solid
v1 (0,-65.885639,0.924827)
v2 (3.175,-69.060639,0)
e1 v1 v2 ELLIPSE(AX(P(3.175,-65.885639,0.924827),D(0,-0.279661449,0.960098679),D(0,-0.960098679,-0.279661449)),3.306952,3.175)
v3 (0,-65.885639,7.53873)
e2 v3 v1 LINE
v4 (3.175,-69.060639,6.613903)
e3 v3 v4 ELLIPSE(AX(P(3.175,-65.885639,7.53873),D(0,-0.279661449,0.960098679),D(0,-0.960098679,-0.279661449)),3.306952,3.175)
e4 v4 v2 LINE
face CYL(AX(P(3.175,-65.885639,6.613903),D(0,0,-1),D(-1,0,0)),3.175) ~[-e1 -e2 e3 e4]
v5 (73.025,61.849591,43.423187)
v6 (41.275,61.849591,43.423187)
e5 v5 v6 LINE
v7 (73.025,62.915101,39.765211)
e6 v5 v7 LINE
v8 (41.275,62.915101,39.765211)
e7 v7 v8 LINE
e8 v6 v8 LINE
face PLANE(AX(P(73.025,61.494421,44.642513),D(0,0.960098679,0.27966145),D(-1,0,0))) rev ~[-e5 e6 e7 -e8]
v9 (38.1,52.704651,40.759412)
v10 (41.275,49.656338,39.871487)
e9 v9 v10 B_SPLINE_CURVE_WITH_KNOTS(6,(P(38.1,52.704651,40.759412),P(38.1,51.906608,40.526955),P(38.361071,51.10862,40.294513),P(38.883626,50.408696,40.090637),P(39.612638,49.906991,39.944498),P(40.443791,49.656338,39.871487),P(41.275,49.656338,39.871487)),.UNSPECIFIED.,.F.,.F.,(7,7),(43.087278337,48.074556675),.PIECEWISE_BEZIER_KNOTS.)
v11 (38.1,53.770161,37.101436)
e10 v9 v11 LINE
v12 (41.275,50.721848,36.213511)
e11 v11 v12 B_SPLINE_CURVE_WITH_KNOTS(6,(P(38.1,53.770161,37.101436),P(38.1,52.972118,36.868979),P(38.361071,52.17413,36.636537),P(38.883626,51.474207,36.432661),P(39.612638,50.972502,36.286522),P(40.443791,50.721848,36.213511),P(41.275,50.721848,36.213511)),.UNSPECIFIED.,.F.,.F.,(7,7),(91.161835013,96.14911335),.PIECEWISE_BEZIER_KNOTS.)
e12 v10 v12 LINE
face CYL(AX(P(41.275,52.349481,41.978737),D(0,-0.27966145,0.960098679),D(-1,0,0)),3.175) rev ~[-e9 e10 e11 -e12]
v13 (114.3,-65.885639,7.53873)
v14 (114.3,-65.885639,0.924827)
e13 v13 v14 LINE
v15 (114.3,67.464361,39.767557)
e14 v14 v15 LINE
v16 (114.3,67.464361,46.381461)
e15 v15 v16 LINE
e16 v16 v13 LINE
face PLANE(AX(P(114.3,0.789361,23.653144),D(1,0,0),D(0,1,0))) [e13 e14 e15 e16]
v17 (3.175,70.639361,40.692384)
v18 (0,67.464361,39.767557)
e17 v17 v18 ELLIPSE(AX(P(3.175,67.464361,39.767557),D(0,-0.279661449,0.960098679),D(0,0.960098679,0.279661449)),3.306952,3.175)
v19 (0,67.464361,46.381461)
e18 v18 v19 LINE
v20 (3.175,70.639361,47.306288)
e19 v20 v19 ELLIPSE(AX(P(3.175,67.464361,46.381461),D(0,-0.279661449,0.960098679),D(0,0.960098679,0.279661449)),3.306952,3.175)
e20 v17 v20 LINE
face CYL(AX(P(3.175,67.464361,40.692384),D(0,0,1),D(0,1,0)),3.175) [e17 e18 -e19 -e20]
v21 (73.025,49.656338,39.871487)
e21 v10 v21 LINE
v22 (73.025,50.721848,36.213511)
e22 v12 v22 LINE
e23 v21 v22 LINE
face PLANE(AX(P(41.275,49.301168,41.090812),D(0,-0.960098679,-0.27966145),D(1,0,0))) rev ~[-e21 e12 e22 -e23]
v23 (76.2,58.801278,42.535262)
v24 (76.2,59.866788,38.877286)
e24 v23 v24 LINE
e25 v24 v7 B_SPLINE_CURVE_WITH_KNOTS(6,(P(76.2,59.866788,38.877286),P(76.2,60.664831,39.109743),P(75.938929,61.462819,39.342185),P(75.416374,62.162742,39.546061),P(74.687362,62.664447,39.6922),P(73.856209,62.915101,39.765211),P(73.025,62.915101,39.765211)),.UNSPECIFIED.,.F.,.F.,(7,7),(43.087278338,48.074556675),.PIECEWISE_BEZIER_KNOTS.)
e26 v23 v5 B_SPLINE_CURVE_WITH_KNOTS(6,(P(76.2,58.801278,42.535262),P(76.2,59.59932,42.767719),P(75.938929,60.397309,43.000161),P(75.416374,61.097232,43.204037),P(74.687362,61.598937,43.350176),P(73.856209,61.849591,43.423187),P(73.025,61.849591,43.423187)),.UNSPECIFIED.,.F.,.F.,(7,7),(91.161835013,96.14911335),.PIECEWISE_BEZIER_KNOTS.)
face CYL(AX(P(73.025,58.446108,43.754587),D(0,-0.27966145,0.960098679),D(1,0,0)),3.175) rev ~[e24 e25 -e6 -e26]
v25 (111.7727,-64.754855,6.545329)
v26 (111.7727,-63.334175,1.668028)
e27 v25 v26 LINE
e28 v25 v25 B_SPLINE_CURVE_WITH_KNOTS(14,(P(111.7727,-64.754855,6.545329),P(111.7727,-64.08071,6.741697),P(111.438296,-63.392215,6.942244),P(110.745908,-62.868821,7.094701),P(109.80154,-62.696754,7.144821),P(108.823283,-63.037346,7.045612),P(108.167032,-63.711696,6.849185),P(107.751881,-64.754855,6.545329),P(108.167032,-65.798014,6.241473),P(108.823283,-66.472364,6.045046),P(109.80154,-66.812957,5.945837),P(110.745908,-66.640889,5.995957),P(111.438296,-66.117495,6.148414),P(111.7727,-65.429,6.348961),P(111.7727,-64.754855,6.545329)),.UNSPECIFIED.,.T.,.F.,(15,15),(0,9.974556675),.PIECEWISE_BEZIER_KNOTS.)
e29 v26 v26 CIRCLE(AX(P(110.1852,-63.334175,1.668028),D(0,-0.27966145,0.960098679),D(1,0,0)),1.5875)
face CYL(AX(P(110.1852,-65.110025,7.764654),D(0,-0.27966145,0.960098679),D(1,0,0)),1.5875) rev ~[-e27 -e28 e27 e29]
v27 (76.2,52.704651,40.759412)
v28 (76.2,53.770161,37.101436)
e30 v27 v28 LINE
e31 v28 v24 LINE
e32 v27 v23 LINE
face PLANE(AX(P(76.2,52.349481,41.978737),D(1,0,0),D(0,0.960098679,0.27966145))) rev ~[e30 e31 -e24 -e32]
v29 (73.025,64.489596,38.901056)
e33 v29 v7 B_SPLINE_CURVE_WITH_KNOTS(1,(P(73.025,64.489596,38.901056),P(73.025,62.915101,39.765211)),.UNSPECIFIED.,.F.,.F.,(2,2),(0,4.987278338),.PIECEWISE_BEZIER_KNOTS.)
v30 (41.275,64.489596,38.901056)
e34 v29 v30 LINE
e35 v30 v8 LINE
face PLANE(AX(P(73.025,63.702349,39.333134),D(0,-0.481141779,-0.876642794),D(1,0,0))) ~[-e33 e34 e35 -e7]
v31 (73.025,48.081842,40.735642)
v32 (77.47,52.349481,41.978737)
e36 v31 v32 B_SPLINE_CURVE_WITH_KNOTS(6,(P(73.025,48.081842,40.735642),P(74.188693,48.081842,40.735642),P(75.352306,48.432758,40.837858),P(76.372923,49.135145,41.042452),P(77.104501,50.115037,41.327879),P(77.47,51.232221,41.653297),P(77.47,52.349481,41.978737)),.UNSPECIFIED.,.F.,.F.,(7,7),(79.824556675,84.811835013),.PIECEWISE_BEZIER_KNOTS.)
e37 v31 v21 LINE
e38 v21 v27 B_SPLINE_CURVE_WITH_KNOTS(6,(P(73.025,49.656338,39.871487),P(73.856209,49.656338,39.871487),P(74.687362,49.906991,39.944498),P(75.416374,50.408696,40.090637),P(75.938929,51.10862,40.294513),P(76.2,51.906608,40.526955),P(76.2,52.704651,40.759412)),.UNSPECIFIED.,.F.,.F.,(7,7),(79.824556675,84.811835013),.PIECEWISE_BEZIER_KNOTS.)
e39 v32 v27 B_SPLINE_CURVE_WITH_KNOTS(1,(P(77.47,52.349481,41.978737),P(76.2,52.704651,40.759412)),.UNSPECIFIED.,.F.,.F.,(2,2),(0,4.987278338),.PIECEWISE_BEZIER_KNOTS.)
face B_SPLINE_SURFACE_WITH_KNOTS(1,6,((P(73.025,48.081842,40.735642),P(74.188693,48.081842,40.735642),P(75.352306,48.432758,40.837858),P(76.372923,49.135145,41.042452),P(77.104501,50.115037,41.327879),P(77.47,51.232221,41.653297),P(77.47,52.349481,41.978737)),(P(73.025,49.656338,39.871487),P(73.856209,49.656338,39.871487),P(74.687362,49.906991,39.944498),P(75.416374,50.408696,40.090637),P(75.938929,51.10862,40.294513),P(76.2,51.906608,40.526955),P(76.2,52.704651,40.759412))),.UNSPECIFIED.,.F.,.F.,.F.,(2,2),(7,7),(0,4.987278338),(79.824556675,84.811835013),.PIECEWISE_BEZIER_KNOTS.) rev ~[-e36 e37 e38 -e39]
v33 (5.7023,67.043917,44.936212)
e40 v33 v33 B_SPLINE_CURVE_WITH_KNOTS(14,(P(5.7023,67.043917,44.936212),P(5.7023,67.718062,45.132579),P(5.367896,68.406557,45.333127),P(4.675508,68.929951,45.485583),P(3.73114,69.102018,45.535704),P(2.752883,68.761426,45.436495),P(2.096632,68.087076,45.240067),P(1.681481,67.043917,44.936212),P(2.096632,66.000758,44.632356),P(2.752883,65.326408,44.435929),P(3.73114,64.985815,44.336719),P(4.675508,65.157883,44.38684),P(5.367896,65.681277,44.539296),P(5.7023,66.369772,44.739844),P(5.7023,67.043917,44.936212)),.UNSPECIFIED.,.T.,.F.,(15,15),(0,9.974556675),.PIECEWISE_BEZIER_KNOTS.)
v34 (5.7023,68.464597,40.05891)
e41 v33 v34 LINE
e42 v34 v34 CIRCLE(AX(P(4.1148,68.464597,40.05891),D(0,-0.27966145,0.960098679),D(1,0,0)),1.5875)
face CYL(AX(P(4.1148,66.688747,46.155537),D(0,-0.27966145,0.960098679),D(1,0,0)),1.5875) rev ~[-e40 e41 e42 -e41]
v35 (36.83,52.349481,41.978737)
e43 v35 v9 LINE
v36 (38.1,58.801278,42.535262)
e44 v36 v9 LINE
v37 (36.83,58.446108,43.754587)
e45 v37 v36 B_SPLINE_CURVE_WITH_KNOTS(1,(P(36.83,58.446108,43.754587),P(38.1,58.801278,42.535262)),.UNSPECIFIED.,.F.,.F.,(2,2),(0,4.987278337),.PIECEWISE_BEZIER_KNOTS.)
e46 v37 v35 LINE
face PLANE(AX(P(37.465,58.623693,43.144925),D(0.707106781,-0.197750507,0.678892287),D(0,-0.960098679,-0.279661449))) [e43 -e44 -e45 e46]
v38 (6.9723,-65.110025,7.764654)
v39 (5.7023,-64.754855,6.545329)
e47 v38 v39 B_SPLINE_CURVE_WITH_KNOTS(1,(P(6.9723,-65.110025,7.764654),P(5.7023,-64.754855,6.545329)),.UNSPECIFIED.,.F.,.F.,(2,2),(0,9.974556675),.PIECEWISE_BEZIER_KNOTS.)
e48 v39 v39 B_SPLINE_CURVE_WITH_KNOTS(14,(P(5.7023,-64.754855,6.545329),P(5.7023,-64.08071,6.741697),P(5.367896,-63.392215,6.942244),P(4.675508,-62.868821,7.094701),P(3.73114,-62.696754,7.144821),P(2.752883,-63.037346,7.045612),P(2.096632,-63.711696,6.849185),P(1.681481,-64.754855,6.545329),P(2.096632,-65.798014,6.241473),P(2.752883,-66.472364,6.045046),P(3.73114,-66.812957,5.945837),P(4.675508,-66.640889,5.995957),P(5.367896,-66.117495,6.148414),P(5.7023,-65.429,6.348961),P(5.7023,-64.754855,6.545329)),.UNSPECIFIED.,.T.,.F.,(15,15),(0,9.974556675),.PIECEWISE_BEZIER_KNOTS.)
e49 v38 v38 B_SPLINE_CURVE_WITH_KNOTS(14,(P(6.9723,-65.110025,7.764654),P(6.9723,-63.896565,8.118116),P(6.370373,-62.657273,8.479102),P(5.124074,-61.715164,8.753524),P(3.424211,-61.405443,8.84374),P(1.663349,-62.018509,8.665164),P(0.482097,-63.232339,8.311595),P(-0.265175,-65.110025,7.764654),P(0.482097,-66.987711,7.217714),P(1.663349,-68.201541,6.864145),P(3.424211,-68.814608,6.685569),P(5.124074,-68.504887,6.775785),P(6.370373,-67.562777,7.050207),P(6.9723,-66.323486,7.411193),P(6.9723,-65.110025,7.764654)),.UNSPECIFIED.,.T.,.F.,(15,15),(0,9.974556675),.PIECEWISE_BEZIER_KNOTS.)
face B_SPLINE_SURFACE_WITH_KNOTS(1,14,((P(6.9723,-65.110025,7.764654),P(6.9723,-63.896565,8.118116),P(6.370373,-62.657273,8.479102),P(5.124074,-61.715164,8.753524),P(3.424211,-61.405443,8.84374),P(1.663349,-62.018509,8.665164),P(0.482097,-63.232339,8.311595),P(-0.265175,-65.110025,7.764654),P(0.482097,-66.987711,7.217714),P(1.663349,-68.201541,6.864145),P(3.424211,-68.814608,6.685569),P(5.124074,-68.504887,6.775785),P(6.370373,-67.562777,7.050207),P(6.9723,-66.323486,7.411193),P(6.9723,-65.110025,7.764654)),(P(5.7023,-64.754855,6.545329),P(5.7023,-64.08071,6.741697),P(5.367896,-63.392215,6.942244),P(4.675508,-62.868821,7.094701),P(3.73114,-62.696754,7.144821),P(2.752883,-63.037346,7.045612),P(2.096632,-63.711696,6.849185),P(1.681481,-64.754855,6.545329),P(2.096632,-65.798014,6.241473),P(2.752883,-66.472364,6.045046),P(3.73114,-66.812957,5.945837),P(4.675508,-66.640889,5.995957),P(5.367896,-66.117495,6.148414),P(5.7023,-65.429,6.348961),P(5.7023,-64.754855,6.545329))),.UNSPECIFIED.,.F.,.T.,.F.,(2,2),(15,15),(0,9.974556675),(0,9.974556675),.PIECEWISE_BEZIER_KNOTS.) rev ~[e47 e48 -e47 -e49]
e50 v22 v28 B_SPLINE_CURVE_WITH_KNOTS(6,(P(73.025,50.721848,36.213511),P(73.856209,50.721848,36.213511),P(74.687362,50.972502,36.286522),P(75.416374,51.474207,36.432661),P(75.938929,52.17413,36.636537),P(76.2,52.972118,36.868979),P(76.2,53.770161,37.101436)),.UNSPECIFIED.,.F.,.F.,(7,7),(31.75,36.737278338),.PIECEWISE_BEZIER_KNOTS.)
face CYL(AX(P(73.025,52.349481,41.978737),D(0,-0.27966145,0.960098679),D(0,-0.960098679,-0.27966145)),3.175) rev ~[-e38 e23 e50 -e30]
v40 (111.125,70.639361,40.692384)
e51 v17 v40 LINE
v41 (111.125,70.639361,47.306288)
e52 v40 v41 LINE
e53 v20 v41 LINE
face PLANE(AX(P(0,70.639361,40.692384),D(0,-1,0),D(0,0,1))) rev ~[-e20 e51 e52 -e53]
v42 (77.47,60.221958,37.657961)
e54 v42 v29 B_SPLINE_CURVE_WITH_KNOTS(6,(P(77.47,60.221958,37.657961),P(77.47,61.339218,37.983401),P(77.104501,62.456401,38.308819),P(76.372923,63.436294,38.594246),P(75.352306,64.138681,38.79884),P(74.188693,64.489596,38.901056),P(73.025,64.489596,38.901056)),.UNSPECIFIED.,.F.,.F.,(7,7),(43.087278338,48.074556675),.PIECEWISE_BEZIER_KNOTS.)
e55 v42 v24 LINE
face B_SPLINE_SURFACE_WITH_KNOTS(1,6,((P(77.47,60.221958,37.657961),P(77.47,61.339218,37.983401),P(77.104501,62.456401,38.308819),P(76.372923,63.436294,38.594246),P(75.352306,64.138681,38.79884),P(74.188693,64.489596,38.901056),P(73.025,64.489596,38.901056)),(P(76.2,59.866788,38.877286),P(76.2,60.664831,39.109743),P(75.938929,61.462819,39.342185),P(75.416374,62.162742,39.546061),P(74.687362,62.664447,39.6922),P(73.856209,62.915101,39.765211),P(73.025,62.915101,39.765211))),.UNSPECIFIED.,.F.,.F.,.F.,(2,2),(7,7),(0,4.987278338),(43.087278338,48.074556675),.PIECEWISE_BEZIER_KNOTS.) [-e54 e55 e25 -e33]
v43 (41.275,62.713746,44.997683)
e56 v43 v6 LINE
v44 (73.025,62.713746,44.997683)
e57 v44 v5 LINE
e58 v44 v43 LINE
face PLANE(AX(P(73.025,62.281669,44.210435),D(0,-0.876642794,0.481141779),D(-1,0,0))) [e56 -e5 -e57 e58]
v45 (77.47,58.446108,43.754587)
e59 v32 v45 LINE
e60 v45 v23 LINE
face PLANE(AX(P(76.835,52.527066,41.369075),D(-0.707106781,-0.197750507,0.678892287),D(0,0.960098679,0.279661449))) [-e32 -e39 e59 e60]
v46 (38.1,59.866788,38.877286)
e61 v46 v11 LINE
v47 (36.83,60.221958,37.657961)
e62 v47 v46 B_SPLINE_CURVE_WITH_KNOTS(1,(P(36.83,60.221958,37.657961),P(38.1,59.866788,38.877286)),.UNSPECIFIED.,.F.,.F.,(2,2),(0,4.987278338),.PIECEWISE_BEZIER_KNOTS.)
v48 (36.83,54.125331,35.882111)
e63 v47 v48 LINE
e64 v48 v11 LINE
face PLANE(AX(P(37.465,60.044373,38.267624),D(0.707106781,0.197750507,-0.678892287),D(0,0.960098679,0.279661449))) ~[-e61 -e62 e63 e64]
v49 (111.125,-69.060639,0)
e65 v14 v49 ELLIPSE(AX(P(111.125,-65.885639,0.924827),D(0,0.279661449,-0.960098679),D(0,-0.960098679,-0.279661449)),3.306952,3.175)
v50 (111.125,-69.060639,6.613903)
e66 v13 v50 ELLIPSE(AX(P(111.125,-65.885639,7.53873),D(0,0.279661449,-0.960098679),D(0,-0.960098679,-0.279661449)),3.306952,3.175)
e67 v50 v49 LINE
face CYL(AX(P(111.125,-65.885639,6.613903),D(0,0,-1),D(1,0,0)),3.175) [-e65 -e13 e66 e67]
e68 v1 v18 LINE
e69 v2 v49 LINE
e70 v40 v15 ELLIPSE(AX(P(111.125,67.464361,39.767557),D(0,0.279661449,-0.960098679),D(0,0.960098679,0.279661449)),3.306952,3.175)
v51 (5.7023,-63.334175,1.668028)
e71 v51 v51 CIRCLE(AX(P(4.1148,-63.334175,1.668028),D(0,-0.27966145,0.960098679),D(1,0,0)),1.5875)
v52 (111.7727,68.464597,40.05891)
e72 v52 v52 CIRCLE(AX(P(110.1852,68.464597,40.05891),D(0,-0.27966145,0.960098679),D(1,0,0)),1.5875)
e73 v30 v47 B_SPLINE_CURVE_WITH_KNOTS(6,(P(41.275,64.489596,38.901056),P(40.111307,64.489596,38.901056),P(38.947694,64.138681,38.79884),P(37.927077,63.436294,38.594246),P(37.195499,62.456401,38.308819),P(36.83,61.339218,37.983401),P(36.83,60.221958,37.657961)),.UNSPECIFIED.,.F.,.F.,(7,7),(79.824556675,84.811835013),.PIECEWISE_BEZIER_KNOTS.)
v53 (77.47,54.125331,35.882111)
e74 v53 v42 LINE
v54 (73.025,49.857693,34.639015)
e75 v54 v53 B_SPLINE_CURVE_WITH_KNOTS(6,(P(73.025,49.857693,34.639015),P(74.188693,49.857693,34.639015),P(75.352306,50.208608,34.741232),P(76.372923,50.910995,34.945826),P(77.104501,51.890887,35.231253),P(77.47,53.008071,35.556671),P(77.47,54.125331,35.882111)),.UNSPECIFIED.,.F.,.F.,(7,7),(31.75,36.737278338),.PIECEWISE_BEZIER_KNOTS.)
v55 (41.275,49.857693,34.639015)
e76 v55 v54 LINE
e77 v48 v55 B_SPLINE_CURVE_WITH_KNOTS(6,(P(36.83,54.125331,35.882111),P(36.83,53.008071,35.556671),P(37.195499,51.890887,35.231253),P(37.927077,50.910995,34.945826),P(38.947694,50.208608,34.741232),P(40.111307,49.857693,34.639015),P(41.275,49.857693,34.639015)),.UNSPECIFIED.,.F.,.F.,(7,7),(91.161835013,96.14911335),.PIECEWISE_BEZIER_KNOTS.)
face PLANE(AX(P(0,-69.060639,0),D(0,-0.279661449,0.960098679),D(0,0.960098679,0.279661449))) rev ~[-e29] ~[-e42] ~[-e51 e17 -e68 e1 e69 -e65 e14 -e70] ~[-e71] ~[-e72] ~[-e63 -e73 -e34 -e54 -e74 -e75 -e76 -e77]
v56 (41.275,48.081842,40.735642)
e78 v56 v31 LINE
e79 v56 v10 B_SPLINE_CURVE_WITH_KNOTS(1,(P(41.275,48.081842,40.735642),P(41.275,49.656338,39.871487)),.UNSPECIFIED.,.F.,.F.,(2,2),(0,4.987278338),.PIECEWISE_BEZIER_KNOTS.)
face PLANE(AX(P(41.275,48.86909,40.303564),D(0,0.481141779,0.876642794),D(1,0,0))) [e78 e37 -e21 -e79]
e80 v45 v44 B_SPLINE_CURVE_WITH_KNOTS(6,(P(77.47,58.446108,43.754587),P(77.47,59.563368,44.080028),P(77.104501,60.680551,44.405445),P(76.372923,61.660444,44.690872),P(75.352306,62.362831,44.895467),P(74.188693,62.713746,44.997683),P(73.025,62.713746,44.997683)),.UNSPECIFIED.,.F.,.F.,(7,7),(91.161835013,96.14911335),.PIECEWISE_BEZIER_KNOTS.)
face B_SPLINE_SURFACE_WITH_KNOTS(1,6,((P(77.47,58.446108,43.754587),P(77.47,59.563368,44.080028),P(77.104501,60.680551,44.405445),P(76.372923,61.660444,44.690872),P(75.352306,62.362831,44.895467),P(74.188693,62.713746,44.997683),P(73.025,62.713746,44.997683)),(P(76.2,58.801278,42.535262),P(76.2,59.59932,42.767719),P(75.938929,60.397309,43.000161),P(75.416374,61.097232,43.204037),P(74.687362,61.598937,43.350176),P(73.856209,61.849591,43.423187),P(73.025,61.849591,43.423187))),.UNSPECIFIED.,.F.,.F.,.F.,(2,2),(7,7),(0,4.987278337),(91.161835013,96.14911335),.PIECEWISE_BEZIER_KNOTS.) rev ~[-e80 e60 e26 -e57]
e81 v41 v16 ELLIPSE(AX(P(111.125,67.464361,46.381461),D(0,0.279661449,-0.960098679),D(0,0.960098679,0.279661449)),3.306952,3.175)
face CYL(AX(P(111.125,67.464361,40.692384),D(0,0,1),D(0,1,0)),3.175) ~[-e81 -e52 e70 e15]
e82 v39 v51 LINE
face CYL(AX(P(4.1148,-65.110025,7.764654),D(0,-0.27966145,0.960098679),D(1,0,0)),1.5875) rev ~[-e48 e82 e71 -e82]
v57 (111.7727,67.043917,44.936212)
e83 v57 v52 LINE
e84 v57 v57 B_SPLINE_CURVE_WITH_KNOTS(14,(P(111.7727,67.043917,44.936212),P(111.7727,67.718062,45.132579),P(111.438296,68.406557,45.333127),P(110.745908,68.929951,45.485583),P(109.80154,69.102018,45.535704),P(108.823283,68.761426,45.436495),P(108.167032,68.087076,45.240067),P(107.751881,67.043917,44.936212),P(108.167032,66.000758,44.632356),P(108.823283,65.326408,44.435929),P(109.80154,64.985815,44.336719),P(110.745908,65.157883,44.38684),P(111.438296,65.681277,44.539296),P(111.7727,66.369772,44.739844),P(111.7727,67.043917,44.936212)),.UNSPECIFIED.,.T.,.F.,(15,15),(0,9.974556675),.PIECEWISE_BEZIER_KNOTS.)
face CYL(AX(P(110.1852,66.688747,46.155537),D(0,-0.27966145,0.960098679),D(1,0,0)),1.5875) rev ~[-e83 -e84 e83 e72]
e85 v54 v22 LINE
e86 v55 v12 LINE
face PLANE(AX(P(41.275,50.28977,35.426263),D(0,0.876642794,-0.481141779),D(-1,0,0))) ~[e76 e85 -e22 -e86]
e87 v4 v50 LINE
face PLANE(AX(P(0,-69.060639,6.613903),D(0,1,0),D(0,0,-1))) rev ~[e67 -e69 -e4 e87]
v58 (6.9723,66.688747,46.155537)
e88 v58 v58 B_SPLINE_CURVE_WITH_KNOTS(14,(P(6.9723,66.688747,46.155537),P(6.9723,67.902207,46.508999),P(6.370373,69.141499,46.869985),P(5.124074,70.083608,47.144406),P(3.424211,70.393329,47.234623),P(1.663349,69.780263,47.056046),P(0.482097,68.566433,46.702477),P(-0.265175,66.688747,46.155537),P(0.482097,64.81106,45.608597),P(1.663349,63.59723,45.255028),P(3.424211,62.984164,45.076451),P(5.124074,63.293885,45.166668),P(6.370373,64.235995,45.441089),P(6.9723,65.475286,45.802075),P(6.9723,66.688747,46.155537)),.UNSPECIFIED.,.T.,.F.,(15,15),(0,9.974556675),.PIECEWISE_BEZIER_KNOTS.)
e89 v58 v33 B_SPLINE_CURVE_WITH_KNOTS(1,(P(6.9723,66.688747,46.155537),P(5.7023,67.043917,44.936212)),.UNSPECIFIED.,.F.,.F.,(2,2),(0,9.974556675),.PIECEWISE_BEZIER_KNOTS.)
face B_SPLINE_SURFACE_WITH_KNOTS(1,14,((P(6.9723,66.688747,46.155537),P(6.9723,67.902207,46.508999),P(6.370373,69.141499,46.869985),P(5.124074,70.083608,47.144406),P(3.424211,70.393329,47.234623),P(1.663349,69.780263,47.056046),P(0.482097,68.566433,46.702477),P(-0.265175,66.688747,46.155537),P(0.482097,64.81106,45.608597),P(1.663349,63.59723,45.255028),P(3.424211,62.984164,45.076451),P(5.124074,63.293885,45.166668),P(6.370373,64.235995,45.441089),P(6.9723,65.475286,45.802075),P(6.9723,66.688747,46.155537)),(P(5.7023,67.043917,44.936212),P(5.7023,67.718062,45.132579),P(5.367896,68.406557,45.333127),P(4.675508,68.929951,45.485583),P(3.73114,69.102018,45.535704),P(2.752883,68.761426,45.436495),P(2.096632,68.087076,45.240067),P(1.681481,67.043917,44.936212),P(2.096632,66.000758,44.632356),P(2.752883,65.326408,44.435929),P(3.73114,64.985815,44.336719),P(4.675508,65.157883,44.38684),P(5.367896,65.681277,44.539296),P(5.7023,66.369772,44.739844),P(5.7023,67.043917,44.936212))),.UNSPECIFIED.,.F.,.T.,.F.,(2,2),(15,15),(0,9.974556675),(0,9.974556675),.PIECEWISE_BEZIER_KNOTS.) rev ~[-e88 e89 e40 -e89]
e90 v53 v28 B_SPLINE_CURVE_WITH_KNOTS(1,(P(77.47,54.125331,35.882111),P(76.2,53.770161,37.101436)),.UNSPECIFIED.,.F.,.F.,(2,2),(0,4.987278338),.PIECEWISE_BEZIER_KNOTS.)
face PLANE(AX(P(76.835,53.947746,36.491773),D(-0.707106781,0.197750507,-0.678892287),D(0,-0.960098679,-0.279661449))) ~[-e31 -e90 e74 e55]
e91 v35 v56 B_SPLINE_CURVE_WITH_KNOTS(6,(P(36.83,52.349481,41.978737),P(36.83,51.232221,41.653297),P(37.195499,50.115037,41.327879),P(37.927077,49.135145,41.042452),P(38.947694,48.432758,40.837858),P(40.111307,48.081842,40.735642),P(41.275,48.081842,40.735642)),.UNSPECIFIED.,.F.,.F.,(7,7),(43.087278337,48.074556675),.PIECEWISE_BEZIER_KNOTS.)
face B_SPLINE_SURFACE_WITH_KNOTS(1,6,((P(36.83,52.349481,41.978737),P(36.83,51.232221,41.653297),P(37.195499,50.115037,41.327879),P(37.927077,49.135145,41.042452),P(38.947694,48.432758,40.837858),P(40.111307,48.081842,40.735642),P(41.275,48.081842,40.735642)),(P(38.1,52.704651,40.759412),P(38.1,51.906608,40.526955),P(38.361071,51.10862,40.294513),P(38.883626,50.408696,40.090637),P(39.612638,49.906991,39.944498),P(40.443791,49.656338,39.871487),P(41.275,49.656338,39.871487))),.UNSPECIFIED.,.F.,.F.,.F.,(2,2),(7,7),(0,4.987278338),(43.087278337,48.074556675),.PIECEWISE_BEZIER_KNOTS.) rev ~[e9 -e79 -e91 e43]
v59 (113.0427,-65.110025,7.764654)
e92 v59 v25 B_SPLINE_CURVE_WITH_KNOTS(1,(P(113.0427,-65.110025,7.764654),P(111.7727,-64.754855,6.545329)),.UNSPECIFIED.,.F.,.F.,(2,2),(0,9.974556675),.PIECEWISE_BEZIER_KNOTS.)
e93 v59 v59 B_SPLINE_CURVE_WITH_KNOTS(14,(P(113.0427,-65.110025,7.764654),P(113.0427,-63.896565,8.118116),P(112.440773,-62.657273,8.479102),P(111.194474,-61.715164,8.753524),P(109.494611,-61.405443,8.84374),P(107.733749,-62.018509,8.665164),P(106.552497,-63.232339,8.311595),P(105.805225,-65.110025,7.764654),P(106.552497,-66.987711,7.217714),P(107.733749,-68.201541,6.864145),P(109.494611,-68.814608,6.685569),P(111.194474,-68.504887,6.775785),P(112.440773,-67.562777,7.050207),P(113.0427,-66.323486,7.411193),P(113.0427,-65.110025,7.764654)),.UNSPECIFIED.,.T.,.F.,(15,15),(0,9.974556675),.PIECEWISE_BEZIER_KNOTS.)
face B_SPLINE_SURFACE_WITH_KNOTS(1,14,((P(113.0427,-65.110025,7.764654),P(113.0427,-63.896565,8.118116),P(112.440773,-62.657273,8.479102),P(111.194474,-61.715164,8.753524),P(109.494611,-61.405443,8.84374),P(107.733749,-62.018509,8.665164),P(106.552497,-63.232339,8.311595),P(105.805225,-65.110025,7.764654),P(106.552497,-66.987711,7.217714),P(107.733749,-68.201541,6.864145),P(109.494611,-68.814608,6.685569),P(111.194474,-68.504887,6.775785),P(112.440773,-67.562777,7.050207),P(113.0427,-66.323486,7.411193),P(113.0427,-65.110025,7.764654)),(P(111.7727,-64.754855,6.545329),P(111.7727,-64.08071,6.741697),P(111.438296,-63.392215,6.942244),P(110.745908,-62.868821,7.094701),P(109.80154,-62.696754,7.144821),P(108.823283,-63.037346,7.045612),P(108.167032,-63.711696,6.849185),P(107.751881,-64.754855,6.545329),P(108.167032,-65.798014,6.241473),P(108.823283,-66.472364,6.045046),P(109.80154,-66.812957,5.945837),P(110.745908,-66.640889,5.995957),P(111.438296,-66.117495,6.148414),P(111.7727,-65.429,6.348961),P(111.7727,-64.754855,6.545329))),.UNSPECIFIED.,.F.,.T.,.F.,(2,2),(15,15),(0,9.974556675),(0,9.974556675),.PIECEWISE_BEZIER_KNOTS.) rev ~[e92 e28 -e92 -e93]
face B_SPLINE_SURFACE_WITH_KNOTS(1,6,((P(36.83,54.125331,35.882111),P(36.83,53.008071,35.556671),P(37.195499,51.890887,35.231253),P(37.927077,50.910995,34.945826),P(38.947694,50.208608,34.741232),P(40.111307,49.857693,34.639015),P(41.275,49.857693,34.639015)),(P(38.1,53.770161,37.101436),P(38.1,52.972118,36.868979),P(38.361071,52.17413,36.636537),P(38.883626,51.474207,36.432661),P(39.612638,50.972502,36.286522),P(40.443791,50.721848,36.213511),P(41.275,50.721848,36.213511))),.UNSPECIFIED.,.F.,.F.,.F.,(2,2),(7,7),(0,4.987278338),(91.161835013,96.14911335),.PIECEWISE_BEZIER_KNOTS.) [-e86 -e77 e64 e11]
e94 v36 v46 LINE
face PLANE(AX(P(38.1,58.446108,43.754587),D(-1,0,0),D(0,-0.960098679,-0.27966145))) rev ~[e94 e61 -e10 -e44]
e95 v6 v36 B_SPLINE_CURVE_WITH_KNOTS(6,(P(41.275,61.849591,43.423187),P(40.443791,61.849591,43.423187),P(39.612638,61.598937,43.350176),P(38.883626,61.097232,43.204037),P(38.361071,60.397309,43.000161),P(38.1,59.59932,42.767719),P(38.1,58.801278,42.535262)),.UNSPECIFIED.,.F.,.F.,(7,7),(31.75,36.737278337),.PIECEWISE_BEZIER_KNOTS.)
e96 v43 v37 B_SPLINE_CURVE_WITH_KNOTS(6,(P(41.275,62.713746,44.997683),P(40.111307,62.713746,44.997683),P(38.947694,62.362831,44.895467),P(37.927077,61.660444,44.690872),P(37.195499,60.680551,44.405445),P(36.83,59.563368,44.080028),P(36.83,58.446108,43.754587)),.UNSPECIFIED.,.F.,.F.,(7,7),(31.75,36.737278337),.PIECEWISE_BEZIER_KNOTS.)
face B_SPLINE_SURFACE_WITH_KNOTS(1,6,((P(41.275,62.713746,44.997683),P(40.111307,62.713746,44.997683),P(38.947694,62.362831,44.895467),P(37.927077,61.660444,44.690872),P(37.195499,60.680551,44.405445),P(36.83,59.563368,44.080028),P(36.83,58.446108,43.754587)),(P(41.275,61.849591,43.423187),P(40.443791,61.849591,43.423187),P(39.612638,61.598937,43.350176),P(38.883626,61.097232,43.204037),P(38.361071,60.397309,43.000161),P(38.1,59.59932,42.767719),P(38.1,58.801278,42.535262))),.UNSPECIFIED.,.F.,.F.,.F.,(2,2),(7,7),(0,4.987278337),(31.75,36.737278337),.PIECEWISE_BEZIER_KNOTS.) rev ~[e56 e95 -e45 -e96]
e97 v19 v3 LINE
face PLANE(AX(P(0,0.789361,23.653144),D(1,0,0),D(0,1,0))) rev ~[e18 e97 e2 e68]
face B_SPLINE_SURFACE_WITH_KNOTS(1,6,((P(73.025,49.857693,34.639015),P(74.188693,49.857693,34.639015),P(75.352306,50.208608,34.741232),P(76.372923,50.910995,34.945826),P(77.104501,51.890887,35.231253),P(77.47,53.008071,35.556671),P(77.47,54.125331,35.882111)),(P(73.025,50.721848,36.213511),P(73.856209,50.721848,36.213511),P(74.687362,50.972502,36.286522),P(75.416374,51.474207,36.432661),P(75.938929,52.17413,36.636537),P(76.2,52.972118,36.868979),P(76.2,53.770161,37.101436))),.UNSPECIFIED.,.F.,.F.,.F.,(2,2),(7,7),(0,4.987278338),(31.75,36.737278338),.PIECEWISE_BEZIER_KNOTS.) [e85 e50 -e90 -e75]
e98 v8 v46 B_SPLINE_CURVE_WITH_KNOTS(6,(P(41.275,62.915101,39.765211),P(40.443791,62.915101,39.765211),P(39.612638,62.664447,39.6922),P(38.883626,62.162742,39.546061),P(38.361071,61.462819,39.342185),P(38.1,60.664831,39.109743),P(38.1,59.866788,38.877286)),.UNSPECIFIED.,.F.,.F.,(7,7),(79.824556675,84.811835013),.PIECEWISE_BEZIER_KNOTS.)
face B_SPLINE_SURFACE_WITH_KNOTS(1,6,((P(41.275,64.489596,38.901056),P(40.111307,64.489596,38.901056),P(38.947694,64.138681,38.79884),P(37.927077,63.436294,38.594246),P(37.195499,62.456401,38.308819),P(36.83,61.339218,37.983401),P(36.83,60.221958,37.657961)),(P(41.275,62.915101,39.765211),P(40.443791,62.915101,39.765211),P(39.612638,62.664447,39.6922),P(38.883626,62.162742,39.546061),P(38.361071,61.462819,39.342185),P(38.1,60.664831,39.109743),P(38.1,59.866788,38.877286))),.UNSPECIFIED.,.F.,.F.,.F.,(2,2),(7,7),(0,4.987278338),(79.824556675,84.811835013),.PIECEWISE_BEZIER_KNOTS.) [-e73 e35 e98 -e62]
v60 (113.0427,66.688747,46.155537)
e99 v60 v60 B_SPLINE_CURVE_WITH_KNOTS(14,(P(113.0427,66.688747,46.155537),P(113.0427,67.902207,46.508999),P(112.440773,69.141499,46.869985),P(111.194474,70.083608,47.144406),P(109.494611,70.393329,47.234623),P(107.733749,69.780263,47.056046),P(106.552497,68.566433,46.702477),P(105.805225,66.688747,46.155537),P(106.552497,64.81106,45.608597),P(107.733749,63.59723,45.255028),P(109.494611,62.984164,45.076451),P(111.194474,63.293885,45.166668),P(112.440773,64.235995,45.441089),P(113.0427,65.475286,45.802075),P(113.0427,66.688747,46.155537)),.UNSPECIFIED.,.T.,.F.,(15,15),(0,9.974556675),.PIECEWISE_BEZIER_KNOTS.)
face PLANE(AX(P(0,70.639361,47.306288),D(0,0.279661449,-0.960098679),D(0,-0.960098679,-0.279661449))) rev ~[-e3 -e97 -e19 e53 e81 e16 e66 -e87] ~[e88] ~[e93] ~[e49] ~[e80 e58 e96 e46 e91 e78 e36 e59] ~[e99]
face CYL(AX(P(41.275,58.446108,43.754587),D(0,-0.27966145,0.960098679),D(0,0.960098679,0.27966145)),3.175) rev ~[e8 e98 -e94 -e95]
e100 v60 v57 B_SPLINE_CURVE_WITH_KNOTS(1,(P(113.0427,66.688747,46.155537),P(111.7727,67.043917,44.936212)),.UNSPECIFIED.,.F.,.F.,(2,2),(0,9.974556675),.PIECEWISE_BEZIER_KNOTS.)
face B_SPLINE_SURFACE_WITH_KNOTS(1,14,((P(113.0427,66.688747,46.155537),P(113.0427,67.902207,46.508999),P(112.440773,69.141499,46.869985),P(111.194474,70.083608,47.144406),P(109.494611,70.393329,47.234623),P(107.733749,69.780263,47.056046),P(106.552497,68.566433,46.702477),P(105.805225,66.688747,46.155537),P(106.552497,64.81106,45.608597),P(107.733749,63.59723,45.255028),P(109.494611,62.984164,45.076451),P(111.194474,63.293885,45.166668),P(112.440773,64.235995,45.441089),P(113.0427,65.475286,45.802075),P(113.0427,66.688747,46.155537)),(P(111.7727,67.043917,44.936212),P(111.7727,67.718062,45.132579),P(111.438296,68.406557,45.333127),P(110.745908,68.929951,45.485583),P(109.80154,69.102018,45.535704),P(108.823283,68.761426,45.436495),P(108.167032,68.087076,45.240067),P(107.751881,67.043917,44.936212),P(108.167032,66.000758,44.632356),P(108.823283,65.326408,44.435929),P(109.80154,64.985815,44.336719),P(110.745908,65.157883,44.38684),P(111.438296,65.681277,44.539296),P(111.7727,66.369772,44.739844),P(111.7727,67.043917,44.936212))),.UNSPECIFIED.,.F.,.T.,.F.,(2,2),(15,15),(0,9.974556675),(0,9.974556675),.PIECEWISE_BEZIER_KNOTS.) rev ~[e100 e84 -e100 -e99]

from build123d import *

# Parameters (mm, degrees)
F1_DEPTH = 114.3
F2_R     = 1.5875
F3_DEPTH = 25.4
F4_SIZE  = 1.27
F5_R     = 3.175


with BuildPart() as f1:
    # F0 (on Right) → F1 (new body)
    with BuildSketch(Plane.YZ):
        Polygon((-69.0606392323, 6.6139034851), (-69.0606392323, 0), (70.6393607677, 40.6923843751), (70.6393607677, 47.3062878602), align=None)
    extrude(amount=F1_DEPTH)

    # F2 (on face) → F3 (cut)
    with BuildSketch(Plane(origin=(0, -7.177119146, 24.6395869914), x_dir=(1, 0, 0), z_dir=(0, -0.2796614495, 0.9600986791))):
        with BuildLine():
            Line((73.025, 71.525502), (41.275, 71.525502))
            ThreePointArc((41.275, 71.525502), (39.0299359698, 70.5955660302), (38.1, 68.350502))
            Line((38.1, 68.350502), (38.1, 62.000502))
            ThreePointArc((38.1, 62.000502), (39.0299359697, 59.7554379697), (41.275, 58.825502))
            Line((41.275, 58.825502), (73.025, 58.825502))
            ThreePointArc((73.025, 58.825502), (75.2700640303, 59.7554379697), (76.2, 62.000502))
            Line((76.2, 62.000502), (76.2, 68.350502))
            ThreePointArc((76.2, 68.350502), (75.2700640302, 70.5955660302), (73.025, 71.525502))
        make_face()
        with Locations((4.1148, 76.935702)):
            Circle(F2_R)
        with Locations((110.1852, 76.935702)):
            Circle(F2_R)
        with Locations((110.1852, -60.3405746722)):
            Circle(F2_R)
        with Locations((4.1148, -60.3405746722)):
            Circle(F2_R)
    extrude(amount=-F3_DEPTH, mode=Mode.SUBTRACT)

    # F4
    f4_edges = [f1.edges().sort_by_distance(p)[0] for p in [
        (108.5977, 66.688747, 46.155537),
        (108.5977, -65.110025, 7.764654),
        (2.5273, -65.110025, 7.764654),
        (2.5273, 66.688747, 46.155537),
        (57.15, 61.494421, 44.642513),
        (39.029936, 60.601591, 44.382445),
        (38.1, 55.397794, 42.866662),
        (39.029936, 50.193998, 41.350879),
        (57.15, 49.301168, 41.090812),
        (75.270064, 50.193998, 41.350879),
        (76.2, 55.397794, 42.866662),
        (75.270064, 60.601591, 44.382445),
        (57.15, 51.077018, 34.994186),
        (75.270064, 51.969848, 35.254253),
    ]]
    chamfer(f4_edges, length=F4_SIZE)

    # F5
    f5_edges = [f1.edges().sort_by_distance(p)[0] for p in [
        (114.3, -69.060639, 3.306952),
        (114.3, 70.639361, 43.999336),
        (0, -69.060639, 3.306952),
        (0, 70.639361, 43.999336),
    ]]
    fillet(f5_edges, radius=F5_R)


solid = f1.part
